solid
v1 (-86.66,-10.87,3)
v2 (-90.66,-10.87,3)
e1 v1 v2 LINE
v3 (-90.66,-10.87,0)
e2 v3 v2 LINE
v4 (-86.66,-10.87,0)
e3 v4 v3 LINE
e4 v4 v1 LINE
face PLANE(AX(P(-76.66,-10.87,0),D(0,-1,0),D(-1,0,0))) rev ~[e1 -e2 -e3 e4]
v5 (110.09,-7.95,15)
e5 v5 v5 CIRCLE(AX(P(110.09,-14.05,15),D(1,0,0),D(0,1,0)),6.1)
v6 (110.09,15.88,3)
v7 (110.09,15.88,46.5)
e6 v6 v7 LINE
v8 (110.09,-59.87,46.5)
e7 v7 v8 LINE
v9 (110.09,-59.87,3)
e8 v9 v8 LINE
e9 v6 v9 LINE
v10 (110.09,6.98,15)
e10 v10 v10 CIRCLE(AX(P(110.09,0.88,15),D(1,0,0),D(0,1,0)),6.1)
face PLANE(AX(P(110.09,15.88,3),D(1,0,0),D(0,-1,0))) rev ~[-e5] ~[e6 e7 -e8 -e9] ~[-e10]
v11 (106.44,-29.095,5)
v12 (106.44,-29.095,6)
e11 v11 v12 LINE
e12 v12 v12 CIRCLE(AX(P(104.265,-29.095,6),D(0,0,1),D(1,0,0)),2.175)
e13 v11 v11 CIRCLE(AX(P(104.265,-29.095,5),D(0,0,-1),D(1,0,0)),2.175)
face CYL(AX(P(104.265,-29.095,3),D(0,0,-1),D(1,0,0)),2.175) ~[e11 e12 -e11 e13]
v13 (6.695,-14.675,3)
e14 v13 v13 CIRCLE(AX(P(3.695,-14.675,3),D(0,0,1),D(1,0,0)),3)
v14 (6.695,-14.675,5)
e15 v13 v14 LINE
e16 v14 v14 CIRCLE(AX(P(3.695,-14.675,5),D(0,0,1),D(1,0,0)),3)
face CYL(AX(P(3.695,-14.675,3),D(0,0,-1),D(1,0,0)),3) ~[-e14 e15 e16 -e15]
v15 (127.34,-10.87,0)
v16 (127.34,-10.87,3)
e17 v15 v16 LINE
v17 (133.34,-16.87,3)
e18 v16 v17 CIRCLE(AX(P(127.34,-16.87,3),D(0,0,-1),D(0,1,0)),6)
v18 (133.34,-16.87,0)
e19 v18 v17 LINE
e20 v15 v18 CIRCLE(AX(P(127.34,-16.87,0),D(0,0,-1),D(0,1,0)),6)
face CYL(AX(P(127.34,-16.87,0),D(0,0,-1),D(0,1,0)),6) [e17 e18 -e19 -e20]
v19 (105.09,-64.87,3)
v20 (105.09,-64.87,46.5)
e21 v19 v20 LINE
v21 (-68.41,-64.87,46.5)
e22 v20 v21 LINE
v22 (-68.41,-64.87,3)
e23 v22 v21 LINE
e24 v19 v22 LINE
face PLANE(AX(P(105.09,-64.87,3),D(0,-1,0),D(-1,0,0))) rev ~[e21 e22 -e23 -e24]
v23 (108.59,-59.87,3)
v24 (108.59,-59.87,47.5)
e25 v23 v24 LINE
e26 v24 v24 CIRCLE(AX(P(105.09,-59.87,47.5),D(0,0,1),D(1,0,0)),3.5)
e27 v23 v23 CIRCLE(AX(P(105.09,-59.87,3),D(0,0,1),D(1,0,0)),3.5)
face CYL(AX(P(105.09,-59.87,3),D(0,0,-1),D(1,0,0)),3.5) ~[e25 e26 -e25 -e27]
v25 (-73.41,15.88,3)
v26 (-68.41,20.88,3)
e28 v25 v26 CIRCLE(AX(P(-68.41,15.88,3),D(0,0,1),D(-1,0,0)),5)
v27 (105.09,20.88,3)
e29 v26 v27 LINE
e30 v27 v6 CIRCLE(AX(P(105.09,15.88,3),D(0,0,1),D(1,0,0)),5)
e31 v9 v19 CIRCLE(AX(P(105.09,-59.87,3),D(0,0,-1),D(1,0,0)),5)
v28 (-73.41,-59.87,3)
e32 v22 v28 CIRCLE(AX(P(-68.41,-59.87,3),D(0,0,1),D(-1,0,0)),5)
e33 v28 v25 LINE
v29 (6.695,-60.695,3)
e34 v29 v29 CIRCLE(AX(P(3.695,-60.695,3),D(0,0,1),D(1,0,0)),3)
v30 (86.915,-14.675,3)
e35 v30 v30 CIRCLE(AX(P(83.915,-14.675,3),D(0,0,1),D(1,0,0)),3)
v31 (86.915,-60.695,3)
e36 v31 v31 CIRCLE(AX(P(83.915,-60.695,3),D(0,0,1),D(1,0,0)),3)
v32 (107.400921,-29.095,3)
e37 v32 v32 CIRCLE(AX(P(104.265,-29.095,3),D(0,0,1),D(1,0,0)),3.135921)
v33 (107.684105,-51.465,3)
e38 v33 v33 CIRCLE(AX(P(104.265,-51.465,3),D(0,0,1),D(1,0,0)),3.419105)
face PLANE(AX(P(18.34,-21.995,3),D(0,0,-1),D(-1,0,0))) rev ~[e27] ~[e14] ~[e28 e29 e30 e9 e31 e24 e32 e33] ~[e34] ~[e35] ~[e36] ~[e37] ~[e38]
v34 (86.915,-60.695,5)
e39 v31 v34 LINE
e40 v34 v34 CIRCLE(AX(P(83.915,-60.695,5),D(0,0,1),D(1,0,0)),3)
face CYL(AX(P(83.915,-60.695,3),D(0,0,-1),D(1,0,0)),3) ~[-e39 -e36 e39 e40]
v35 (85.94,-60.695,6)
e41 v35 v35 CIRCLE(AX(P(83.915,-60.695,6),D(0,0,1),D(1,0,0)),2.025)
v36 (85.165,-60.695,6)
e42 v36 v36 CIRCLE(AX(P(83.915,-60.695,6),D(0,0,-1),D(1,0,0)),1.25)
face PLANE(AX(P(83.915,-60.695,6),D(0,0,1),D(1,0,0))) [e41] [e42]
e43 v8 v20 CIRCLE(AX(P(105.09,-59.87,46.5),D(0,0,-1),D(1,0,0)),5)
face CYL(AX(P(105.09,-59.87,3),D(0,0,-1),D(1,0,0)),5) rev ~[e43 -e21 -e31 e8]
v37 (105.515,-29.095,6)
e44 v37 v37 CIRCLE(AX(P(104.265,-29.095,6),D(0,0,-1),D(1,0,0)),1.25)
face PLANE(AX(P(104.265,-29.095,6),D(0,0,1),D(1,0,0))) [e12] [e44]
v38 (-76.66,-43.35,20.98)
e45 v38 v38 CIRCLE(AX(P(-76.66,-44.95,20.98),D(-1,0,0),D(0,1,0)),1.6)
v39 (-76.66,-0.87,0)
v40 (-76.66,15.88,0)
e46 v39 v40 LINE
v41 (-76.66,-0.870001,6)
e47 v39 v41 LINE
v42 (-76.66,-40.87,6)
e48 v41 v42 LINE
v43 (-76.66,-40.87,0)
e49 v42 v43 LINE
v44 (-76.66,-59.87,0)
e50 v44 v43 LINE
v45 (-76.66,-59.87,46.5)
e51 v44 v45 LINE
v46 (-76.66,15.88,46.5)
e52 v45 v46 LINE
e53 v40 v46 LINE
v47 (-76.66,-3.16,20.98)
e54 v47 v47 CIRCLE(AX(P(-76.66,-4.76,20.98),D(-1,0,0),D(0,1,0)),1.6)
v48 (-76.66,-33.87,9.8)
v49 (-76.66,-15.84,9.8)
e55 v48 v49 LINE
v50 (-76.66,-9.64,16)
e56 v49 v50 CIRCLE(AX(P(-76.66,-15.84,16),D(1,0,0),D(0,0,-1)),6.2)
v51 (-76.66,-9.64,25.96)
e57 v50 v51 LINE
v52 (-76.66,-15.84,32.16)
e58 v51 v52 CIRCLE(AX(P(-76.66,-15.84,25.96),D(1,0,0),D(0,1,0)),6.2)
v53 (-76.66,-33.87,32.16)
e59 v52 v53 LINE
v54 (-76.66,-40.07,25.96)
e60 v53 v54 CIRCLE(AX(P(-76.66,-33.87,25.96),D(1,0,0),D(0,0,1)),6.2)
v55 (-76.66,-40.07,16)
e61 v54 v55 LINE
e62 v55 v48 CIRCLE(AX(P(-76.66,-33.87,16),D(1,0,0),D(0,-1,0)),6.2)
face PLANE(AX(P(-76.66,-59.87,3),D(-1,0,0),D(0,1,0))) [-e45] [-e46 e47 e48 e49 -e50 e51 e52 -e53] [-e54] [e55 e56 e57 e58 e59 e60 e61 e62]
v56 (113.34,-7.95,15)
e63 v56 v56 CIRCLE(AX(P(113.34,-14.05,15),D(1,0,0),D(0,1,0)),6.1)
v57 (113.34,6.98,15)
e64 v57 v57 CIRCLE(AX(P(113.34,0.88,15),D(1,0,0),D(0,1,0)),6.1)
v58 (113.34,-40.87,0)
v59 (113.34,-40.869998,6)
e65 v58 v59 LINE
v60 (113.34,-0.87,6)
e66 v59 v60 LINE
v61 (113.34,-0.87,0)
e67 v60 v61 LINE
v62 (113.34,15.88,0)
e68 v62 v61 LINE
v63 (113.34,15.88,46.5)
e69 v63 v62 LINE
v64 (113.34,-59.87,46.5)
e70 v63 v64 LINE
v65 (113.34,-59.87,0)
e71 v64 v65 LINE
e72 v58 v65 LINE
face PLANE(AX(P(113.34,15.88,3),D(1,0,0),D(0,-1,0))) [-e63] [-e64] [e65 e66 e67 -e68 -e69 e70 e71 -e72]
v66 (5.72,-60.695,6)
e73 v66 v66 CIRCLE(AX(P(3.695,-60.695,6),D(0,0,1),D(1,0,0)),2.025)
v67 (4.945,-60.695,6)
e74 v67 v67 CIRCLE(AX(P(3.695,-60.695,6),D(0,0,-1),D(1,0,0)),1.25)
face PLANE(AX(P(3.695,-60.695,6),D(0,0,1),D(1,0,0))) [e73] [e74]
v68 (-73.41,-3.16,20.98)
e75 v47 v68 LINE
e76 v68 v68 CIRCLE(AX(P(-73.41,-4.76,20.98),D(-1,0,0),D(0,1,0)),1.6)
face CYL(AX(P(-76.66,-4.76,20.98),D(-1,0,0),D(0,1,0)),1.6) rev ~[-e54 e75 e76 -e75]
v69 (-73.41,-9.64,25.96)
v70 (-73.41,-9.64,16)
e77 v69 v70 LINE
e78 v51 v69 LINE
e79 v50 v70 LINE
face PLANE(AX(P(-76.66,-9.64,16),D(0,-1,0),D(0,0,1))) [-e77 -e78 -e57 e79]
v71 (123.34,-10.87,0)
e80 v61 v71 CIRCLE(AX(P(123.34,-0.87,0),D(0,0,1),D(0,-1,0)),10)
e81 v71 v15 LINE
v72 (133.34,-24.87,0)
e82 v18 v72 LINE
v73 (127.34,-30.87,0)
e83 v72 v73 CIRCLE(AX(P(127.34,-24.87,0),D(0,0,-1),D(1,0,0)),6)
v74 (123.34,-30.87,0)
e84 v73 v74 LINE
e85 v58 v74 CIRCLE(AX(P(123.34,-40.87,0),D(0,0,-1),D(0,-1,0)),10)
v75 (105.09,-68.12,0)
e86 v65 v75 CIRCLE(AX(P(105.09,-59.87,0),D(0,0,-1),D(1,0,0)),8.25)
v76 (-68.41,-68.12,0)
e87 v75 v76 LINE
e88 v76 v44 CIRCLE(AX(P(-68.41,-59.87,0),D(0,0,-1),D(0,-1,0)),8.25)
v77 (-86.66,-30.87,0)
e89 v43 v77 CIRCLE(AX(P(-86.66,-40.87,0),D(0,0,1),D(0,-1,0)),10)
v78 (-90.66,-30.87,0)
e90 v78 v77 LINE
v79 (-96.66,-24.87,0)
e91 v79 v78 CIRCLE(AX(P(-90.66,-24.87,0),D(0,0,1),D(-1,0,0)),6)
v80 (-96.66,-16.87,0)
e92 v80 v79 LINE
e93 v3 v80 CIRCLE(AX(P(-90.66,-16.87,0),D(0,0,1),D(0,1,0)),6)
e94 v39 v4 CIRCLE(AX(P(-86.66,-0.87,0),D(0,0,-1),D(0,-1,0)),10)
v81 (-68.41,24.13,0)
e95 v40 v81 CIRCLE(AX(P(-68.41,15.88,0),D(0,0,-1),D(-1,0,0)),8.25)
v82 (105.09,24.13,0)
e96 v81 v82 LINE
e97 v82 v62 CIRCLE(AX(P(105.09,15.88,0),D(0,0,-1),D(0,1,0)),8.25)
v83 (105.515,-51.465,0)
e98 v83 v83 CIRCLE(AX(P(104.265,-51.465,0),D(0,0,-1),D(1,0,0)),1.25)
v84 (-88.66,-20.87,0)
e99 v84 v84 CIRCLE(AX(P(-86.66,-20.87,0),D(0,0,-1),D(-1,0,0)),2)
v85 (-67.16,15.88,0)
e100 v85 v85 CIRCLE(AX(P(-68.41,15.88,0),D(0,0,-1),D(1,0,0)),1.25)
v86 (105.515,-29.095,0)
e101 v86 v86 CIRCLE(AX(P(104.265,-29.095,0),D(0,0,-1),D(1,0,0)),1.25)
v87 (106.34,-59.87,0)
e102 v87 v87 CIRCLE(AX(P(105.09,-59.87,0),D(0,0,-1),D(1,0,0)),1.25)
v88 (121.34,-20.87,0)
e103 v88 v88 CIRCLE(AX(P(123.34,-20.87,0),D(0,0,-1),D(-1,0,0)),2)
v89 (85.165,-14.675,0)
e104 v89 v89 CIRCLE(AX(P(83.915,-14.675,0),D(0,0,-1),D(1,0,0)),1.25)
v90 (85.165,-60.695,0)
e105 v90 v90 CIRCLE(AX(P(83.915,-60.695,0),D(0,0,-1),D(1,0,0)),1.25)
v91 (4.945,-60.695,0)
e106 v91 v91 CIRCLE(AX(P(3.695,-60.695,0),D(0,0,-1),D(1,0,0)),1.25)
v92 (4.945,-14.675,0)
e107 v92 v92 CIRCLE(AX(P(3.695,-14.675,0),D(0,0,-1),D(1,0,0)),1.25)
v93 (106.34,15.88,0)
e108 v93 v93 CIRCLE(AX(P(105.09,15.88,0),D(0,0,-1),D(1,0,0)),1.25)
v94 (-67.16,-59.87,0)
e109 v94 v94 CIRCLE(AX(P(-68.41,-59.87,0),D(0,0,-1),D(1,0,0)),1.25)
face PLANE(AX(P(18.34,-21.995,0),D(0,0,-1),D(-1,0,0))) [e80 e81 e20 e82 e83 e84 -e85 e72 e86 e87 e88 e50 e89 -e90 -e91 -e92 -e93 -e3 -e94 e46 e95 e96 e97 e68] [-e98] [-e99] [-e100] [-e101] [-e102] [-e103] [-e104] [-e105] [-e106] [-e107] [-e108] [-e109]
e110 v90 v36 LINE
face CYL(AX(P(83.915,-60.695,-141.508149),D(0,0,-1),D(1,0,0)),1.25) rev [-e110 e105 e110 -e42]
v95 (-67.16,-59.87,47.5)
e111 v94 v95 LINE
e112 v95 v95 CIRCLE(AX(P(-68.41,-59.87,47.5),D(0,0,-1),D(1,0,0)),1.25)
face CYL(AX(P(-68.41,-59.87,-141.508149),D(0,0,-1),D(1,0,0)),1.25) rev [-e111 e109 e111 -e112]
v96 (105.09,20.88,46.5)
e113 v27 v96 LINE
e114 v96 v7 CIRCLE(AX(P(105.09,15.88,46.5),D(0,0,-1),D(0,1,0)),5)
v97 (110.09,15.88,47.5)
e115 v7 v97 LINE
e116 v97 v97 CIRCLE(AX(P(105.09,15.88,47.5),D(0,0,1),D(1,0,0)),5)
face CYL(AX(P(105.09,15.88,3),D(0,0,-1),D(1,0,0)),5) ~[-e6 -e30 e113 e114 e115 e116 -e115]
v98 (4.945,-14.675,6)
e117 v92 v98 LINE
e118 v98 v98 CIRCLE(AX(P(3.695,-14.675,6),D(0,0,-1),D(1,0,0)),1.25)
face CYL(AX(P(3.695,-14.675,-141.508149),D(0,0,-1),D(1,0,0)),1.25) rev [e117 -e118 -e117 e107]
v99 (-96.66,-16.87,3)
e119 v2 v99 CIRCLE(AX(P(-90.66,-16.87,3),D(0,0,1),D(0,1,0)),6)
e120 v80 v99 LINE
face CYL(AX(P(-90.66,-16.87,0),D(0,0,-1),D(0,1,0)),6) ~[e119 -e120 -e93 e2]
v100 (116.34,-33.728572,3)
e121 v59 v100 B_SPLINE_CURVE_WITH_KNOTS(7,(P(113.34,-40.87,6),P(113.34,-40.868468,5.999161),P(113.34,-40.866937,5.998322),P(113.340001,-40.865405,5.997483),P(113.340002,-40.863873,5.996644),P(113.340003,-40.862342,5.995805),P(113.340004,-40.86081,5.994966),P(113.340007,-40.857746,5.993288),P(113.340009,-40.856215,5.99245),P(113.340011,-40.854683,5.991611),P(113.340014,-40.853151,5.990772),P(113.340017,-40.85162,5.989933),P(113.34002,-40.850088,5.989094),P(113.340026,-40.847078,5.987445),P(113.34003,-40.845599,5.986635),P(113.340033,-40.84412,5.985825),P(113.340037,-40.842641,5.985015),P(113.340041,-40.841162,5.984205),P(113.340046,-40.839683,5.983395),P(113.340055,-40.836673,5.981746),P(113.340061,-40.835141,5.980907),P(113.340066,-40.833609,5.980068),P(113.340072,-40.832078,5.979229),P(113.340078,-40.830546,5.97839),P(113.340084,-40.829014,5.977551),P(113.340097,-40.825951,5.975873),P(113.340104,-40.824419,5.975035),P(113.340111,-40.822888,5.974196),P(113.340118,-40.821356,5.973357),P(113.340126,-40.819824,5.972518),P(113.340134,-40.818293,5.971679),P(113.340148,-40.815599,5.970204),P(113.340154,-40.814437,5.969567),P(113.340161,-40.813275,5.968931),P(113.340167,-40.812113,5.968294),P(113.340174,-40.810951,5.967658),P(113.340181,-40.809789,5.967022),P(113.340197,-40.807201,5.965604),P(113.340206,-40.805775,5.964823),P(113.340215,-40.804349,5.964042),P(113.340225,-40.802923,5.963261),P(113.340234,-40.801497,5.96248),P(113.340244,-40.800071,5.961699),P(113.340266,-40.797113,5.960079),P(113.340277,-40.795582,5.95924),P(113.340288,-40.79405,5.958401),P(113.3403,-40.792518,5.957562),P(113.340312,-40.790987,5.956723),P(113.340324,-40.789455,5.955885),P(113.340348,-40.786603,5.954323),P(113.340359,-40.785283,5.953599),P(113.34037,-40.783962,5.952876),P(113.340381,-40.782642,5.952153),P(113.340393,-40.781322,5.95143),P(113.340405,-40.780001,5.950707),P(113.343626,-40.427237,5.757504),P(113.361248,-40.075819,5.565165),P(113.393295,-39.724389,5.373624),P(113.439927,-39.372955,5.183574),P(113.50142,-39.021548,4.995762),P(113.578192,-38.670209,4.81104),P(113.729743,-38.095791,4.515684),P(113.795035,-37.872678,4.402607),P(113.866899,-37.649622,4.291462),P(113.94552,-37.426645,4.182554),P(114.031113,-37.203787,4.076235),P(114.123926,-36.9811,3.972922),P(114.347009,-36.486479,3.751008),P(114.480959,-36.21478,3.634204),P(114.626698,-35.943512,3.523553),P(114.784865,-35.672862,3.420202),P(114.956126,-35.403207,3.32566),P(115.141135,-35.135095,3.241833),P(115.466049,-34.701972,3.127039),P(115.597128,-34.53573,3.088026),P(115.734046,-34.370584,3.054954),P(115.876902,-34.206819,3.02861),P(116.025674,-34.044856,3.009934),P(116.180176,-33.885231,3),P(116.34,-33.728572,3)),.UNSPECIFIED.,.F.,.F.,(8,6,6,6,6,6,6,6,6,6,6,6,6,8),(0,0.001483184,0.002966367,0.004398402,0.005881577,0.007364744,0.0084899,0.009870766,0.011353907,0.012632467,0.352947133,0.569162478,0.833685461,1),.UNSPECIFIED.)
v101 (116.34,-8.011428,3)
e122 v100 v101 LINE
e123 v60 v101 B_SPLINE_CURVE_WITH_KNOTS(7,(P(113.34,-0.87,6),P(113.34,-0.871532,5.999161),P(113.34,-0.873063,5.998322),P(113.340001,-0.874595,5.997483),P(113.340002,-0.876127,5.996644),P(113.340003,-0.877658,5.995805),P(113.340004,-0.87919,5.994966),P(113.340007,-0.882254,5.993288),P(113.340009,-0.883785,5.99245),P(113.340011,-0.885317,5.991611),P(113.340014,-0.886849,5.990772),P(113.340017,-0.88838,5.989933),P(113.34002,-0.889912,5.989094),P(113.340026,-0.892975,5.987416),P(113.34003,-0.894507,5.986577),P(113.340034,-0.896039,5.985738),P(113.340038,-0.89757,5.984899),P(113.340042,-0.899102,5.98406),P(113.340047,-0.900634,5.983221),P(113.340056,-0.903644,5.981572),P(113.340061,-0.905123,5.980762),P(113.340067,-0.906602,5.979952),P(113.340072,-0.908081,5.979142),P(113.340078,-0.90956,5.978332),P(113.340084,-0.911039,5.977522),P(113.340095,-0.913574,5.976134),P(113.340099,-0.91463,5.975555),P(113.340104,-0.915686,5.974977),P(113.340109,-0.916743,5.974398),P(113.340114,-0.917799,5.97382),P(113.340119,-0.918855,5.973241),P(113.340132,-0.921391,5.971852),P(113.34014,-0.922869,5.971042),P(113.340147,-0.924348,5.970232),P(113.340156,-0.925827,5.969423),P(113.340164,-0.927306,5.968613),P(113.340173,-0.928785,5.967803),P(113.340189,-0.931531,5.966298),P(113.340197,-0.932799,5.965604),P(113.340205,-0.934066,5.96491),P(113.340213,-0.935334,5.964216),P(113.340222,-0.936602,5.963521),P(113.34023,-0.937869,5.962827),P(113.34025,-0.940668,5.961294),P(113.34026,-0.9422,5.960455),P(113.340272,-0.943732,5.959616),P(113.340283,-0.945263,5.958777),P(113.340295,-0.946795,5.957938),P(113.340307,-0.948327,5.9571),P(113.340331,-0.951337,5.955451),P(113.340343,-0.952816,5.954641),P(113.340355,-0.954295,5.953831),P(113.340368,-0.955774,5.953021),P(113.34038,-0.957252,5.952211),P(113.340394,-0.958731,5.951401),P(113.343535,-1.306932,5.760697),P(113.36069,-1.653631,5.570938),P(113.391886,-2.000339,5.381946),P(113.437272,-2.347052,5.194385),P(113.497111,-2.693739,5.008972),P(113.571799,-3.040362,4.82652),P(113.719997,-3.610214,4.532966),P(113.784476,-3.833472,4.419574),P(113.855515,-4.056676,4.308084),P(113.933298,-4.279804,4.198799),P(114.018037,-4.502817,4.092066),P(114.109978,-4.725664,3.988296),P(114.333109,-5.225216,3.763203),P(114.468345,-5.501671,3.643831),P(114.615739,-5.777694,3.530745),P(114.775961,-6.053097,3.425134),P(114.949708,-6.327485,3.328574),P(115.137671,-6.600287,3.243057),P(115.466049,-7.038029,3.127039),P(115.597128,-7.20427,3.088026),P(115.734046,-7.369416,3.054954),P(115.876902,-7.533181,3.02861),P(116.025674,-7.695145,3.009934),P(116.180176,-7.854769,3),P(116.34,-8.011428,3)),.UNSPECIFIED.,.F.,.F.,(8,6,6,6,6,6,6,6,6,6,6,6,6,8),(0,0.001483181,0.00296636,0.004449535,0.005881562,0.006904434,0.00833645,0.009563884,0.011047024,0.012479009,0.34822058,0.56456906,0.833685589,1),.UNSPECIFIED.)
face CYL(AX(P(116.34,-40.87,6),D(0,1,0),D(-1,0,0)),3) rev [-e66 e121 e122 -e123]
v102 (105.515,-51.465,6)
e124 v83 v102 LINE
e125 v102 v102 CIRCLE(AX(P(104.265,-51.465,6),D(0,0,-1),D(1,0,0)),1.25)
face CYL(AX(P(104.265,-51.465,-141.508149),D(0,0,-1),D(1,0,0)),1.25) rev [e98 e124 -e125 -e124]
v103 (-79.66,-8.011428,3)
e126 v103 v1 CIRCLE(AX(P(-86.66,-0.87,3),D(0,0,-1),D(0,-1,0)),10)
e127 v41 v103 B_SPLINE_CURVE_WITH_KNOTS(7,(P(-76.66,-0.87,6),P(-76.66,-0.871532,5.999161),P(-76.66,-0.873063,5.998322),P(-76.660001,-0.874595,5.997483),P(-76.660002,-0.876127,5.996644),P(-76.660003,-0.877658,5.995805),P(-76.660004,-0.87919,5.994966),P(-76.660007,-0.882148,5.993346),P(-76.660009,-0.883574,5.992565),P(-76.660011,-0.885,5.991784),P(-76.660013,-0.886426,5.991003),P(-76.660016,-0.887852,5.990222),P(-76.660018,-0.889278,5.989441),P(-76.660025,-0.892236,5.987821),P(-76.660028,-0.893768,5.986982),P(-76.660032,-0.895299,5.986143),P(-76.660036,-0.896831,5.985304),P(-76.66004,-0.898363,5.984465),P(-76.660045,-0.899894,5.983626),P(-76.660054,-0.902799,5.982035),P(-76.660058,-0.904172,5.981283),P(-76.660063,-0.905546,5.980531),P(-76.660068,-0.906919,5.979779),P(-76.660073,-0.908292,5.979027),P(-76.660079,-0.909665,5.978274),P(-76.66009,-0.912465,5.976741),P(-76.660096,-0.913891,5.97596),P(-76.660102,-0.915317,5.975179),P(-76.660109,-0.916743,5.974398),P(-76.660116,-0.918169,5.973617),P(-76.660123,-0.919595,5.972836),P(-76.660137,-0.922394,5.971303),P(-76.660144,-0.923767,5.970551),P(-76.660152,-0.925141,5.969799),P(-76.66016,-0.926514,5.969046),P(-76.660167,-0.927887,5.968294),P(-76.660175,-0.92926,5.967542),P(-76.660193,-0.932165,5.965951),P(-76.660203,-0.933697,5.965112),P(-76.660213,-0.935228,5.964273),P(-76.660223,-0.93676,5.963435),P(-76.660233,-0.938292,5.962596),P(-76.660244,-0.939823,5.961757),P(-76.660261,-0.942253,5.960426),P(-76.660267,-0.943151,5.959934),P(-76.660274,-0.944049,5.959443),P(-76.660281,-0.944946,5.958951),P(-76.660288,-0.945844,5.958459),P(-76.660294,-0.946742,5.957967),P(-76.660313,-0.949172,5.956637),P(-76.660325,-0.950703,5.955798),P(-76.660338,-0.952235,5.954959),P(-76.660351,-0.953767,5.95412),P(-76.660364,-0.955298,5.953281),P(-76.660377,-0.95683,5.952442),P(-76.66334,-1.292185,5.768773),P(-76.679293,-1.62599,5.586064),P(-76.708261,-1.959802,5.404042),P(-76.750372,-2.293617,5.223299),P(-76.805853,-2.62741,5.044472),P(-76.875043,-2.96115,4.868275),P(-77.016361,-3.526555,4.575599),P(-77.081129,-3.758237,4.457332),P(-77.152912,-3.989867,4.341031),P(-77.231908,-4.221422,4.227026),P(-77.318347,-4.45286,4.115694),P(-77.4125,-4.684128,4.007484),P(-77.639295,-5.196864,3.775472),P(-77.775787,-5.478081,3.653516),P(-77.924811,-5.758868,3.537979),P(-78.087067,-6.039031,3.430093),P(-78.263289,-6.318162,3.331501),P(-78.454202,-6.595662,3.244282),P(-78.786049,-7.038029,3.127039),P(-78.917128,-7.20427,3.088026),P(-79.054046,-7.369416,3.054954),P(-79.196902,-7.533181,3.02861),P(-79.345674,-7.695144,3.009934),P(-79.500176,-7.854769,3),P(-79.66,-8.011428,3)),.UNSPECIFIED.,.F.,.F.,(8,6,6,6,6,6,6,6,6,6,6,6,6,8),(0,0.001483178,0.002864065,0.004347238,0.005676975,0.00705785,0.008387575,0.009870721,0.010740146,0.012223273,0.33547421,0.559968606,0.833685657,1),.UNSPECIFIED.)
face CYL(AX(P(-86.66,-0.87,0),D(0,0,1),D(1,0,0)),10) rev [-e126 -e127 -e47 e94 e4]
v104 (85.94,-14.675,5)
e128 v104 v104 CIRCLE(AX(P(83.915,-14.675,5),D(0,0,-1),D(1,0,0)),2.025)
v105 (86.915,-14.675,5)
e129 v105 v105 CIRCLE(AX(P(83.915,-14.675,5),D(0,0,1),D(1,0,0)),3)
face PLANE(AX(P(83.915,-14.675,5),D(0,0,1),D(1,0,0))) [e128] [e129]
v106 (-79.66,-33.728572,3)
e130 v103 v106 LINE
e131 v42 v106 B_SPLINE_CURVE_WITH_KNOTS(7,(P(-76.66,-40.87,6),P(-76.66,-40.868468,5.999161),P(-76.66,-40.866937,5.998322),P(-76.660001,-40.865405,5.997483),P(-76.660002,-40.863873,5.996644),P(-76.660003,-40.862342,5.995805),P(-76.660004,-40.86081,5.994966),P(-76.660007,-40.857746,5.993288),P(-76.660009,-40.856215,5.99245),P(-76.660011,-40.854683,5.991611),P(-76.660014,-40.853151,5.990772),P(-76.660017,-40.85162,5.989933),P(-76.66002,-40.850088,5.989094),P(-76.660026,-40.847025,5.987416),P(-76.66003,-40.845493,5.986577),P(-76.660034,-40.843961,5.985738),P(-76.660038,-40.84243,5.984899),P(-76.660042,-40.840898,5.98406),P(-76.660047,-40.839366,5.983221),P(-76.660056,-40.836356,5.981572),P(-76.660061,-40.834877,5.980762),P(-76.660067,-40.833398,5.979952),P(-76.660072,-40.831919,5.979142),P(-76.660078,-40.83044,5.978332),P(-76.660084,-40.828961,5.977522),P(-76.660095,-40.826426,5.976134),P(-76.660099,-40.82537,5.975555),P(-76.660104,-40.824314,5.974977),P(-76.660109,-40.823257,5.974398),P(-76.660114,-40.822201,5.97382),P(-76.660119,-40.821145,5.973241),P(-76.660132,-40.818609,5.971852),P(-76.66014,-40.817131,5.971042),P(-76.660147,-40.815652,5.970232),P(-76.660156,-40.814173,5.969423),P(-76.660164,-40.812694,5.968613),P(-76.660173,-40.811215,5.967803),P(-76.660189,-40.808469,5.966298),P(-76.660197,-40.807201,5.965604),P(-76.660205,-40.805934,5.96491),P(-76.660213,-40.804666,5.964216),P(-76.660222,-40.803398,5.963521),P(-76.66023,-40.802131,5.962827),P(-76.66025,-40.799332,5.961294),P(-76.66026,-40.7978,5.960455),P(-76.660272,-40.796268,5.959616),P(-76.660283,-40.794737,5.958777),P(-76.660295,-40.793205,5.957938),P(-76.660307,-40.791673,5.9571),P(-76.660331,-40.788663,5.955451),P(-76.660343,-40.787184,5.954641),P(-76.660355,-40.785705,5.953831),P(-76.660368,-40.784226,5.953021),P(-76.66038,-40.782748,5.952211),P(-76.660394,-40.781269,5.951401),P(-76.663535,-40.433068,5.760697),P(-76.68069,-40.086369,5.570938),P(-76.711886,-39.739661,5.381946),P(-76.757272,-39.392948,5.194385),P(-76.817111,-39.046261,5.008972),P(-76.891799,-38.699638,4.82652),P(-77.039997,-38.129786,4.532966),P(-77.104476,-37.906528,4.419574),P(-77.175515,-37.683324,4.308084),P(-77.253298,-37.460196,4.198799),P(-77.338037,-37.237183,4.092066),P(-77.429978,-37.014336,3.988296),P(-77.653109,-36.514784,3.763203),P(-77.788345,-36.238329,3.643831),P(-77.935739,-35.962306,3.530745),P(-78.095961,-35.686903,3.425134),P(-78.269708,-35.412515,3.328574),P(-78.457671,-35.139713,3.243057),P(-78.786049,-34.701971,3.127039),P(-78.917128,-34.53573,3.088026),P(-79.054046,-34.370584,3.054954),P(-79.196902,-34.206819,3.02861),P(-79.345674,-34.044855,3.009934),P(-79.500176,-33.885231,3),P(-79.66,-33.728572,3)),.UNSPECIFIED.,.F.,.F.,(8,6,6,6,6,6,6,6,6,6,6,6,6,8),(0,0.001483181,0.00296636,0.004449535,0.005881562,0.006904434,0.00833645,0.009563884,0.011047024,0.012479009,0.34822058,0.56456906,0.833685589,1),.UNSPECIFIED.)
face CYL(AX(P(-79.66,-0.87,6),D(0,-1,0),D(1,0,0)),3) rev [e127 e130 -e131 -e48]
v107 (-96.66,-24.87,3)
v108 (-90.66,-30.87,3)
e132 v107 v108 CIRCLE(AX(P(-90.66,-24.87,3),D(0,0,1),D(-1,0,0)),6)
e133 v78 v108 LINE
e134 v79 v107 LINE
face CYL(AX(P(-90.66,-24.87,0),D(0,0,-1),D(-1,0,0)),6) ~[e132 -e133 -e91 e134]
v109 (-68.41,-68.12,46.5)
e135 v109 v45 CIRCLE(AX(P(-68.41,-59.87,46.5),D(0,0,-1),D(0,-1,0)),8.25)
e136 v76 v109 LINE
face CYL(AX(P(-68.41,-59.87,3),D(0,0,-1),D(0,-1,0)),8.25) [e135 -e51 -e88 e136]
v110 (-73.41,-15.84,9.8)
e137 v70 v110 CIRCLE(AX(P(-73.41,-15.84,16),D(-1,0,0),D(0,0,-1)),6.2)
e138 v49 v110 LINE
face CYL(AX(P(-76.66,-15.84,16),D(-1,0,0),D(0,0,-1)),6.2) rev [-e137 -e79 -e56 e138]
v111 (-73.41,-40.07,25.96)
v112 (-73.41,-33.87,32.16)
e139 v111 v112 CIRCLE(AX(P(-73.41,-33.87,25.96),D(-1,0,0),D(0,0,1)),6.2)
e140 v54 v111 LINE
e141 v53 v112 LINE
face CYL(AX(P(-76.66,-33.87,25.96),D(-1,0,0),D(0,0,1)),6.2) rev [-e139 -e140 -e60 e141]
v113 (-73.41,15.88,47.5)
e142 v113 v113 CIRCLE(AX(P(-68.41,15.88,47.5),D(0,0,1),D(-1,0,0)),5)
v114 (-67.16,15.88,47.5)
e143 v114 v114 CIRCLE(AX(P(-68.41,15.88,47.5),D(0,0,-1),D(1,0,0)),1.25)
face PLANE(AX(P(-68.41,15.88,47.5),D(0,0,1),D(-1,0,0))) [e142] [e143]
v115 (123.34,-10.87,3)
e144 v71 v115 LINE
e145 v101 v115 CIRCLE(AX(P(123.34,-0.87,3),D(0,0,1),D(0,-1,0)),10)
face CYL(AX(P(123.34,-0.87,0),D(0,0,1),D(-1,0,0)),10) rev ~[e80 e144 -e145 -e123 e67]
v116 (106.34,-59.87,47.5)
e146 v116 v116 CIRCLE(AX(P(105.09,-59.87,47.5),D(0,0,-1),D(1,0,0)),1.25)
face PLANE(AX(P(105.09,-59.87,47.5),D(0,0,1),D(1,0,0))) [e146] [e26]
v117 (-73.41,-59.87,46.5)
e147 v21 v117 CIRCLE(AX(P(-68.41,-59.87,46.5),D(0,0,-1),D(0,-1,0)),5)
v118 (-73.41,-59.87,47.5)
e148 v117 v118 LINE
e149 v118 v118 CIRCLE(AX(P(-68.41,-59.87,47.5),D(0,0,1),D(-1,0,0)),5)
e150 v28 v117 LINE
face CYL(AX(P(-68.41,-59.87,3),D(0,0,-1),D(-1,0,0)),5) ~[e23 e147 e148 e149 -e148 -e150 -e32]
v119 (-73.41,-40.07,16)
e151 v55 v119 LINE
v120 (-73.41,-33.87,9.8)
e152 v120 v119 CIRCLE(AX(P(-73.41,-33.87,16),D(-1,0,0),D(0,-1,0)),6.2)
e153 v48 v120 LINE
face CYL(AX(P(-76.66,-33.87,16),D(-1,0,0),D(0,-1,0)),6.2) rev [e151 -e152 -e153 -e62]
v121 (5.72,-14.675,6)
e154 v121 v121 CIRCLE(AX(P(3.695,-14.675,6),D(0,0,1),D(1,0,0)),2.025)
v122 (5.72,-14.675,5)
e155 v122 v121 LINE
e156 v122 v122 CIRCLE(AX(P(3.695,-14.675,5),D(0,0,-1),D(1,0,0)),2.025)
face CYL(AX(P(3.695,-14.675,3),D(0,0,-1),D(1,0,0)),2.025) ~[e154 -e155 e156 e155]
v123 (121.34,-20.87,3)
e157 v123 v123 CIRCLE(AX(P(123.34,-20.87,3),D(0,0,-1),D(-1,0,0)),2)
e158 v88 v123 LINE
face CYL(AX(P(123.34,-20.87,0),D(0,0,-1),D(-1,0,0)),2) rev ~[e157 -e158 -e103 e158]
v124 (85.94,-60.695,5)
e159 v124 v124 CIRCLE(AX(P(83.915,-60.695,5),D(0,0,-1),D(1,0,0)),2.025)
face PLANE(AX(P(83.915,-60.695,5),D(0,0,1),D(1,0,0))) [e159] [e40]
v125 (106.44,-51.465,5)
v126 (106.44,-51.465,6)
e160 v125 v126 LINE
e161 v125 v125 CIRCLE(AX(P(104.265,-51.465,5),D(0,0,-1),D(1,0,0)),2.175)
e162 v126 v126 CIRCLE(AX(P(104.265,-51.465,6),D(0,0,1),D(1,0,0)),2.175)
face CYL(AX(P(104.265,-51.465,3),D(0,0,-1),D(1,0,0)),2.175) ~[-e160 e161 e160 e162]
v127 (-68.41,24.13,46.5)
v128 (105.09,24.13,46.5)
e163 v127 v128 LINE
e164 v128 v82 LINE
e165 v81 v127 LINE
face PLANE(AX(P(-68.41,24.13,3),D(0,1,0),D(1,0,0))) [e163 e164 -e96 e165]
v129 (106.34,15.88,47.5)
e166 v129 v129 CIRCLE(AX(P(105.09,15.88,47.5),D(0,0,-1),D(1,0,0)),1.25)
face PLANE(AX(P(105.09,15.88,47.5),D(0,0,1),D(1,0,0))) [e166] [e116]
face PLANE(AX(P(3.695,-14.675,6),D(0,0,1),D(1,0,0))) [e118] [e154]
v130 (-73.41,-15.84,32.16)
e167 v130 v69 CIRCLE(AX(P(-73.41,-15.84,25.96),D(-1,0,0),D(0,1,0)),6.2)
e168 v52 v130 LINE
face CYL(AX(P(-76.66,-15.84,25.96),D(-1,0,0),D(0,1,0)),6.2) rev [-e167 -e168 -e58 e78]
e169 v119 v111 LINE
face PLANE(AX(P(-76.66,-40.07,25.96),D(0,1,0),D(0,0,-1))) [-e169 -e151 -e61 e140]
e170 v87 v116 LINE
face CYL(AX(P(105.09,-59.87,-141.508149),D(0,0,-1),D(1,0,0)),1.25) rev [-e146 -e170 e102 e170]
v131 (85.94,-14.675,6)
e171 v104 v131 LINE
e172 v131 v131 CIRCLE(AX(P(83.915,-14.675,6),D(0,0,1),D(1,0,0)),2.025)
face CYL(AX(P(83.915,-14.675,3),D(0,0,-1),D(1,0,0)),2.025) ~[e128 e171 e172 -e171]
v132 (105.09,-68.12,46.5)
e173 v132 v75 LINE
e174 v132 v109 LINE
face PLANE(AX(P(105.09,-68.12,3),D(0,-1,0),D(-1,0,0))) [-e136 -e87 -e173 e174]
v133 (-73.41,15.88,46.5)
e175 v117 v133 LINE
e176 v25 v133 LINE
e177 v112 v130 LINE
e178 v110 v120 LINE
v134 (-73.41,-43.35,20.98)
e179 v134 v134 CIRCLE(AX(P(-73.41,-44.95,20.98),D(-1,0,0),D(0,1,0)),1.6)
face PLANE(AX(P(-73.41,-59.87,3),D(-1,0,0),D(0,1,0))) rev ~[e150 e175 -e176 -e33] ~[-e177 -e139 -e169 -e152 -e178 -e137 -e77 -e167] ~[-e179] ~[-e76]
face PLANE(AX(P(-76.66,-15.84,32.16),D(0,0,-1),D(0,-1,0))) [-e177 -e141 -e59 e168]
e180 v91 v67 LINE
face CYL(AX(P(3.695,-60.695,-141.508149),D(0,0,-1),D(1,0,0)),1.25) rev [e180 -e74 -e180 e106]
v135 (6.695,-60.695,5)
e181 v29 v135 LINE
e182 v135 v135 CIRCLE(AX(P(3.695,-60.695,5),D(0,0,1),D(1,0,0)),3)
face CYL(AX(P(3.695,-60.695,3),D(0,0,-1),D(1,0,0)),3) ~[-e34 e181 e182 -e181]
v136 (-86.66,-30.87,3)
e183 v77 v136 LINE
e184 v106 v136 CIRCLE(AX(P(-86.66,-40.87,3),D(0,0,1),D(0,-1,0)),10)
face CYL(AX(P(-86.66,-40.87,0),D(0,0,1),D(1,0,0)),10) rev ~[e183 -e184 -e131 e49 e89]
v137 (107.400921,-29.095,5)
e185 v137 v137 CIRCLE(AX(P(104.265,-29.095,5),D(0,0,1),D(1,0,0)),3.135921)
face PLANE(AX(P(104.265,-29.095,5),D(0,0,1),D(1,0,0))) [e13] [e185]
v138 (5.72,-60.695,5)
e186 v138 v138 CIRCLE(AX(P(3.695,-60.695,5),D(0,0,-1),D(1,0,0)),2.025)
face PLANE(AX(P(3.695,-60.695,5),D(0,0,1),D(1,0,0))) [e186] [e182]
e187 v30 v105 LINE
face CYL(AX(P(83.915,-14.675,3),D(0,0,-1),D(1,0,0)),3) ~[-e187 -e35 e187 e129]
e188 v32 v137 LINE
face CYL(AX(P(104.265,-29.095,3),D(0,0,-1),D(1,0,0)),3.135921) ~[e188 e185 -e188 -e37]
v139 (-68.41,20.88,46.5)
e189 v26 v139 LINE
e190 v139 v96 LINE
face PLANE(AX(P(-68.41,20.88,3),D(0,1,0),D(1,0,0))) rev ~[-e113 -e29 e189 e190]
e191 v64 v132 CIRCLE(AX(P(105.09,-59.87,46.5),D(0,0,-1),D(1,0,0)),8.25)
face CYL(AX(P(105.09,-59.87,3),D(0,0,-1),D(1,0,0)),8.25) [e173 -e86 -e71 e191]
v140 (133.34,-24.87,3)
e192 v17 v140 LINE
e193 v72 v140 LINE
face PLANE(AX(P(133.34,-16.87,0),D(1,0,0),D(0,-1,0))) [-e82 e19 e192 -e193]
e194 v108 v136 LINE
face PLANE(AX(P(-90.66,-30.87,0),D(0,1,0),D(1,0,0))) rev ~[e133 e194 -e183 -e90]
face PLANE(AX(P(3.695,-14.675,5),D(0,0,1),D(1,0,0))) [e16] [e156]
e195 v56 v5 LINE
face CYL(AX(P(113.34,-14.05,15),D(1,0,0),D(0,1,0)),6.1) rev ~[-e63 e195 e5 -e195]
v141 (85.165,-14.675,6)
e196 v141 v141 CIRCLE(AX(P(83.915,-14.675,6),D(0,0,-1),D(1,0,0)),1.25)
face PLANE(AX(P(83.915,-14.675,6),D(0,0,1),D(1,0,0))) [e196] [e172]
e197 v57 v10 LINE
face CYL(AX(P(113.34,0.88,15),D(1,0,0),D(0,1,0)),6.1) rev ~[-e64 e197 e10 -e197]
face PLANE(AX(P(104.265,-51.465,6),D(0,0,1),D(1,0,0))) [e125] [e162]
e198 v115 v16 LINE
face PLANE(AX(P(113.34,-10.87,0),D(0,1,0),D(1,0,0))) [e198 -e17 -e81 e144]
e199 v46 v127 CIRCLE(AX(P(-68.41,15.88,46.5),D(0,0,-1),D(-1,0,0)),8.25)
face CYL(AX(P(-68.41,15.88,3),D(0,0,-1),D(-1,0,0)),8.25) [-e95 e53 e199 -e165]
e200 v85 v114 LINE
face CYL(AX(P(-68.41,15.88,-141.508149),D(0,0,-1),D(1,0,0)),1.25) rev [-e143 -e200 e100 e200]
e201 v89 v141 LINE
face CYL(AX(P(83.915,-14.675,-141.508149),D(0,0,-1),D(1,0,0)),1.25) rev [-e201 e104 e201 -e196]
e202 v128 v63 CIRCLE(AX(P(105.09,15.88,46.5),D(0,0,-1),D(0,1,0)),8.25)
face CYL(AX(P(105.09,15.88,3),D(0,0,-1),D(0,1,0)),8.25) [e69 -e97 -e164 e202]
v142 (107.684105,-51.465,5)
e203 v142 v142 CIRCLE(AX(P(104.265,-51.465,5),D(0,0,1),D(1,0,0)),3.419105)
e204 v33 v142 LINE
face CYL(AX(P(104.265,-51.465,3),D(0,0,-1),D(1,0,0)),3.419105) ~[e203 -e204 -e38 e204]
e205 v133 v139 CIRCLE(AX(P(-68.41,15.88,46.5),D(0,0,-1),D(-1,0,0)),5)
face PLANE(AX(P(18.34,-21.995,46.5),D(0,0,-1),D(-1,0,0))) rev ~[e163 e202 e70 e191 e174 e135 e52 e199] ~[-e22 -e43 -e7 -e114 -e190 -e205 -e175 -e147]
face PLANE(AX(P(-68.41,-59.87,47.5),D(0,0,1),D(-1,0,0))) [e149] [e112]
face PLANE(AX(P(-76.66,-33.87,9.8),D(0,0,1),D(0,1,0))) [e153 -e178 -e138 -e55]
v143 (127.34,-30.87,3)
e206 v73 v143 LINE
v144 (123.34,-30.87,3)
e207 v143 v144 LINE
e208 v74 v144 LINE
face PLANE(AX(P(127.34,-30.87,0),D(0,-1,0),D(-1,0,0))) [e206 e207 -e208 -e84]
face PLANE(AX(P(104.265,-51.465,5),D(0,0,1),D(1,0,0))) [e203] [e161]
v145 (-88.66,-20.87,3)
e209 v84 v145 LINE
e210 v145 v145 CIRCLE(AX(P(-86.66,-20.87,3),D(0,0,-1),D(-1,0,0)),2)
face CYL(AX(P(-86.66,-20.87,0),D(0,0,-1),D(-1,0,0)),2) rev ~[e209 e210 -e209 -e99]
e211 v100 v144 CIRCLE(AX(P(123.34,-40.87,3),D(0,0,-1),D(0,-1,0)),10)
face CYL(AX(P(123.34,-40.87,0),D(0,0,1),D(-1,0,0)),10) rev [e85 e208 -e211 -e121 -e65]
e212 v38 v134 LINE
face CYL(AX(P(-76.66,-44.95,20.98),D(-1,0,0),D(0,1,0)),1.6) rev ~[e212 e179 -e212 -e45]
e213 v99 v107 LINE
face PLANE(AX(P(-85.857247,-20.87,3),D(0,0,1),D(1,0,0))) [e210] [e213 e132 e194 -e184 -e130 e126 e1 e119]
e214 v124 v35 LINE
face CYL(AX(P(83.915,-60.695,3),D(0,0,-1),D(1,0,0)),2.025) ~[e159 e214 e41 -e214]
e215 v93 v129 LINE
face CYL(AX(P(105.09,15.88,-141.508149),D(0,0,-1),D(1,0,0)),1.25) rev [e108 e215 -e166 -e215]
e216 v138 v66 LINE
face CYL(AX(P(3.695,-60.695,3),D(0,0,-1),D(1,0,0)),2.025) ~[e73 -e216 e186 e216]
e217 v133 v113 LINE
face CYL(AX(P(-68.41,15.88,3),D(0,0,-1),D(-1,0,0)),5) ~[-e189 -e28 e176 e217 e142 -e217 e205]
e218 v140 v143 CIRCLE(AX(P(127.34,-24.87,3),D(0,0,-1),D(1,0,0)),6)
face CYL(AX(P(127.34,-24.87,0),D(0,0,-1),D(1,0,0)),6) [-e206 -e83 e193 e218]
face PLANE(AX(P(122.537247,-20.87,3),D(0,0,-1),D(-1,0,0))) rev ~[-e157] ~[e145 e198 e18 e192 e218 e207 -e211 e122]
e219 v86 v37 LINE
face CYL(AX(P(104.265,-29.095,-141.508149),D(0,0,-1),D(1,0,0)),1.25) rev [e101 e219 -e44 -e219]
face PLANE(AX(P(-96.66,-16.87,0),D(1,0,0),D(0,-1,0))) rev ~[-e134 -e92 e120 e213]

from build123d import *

# Parameters (mm, degrees)
BOSS_EXTRUDE1_DEPTH            = 3
BOSS_EXTRUDE5_START            = 3
BOSS_EXTRUDE5_DEPTH            = 43.5
BOSS_EXTRUDE6_START            = 3
SKETCH1_10_R                   = 3.5
SKETCH1_10_R_2                 = 5
BOSS_EXTRUDE6_DEPTH            = 44.5
BOSS_EXTRUDE7_START            = 3
SKETCH1_11_R                   = 2.175
SKETCH1_11_R_2                 = 2.025
BOSS_EXTRUDE7_DEPTH            = 3
BOSS_EXTRUDE8_START            = 3
SKETCH1_12_R                   = 3
SKETCH1_12_R_2                 = 3.135921206
SKETCH1_12_R_3                 = 3.419105212
BOSS_EXTRUDE8_DEPTH            = 2
CUT_EXTRUDE7_DEPTH             = 141.50814923
CUT_EXTRUDE7_DEPTH_BACK        = 141.50814923
SKETCH1_13_R                   = 1.25
CUT_EXTRUDE8_REACH             = 209.356
SKETCH3_R                      = 1.6
CUT_EXTRUDE8_DIRECTION_2_DEPTH = 208.356177627
CUT_EXTRUDE9_REACH             = 209.356
SKETCH4_R                      = 6.1
SKETCH5_R                      = 2
BOSS_EXTRUDE9_DEPTH            = 3
FILLET2_R                      = 10
FILLET3_R                      = 3


with BuildPart() as part:
    # Sketch1 → Boss-Extrude1 (new body)
    with BuildSketch(Plane.XY):
        with BuildLine():
            Line((-68.41, 24.13), (105.09, 24.13))
            ThreePointArc((105.09, 24.13), (110.923630945, 21.713630945), (113.34, 15.88))
            Line((113.34, 15.88), (113.34, -59.87))
            ThreePointArc((113.34, -59.87), (110.923630945, -65.703630945), (105.09, -68.12))
            Line((105.09, -68.12), (-68.41, -68.12))
            ThreePointArc((-68.41, -68.12), (-74.243630945, -65.703630945), (-76.66, -59.87))
            Line((-76.66, -59.87), (-76.66, 15.88))
            ThreePointArc((-76.66, 15.88), (-74.243630945, 21.713630945), (-68.41, 24.13))
        make_face()
    extrude(amount=BOSS_EXTRUDE1_DEPTH)

    # Sketch1<9> → Boss-Extrude5 (add)
    with BuildSketch(Plane.XY.offset(BOSS_EXTRUDE5_START)):
        with BuildLine():
            Line((-68.41, 24.13), (105.09, 24.13))
            ThreePointArc((105.09, 24.13), (110.923630945, 21.713630945), (113.34, 15.88))
            Line((113.34, 15.88), (113.34, -59.87))
            ThreePointArc((113.34, -59.87), (110.923630945, -65.703630945), (105.09, -68.12))
            Line((105.09, -68.12), (-68.41, -68.12))
            ThreePointArc((-68.41, -68.12), (-74.243630945, -65.703630945), (-76.66, -59.87))
            Line((-76.66, -59.87), (-76.66, 15.88))
            ThreePointArc((-76.66, 15.88), (-74.243630945, 21.713630945), (-68.41, 24.13))
        make_face()
        with BuildLine():
            Line((-68.41, 20.88), (105.09, 20.88))
            ThreePointArc((105.09, 20.88), (108.625533906, 19.415533906), (110.09, 15.88))
            Line((110.09, 15.88), (110.09, -59.87))
            ThreePointArc((110.09, -59.87), (108.625533906, -63.405533906), (105.09, -64.87))
            Line((105.09, -64.87), (-68.41, -64.87))
            ThreePointArc((-68.41, -64.87), (-71.945533906, -63.405533906), (-73.41, -59.87))
            Line((-73.41, -59.87), (-73.41, 15.88))
            ThreePointArc((-73.41, 15.88), (-71.945533906, 19.415533906), (-68.41, 20.88))
        make_face(mode=Mode.SUBTRACT)
    extrude(amount=BOSS_EXTRUDE5_DEPTH)

    # Sketch1<10> → Boss-Extrude6 (add)
    with BuildSketch(Plane.XY.offset(BOSS_EXTRUDE6_START)):
        with Locations((105.09, -59.87)):
            Circle(SKETCH1_10_R)
        with Locations((105.09, 15.88)):
            Circle(SKETCH1_10_R_2)
        with Locations(Location((-68.41, 15.88, 0), (0, 0, 180))):
            Circle(SKETCH1_10_R_2)
        with Locations(Location((-68.41, -59.87, 0), (0, 0, 180))):
            Circle(SKETCH1_10_R_2)
    extrude(amount=BOSS_EXTRUDE6_DEPTH)

    # Sketch1<11> → Boss-Extrude7 (add)
    with BuildSketch(Plane.XY.offset(BOSS_EXTRUDE7_START)):
        with Locations((104.265, -29.095)):
            Circle(SKETCH1_11_R)
        with Locations((104.265, -51.465)):
            Circle(SKETCH1_11_R)
        with Locations((3.695, -14.675)):
            Circle(SKETCH1_11_R_2)
        with Locations((83.915, -14.675)):
            Circle(SKETCH1_11_R_2)
        with Locations((83.915, -60.695)):
            Circle(SKETCH1_11_R_2)
        with Locations((3.695, -60.695)):
            Circle(SKETCH1_11_R_2)
    extrude(amount=BOSS_EXTRUDE7_DEPTH)

    # Sketch1<12> → Boss-Extrude8 (add)
    with BuildSketch(Plane.XY.offset(BOSS_EXTRUDE8_START)):
        with Locations((3.695, -14.675)):
            Circle(SKETCH1_12_R)
        with Locations((83.915, -14.675)):
            Circle(SKETCH1_12_R)
        with Locations((104.265, -29.095)):
            Circle(SKETCH1_12_R_2)
        with Locations((104.265, -51.465)):
            Circle(SKETCH1_12_R_3)
        with Locations((83.915, -60.695)):
            Circle(SKETCH1_12_R)
        with Locations((3.695, -60.695)):
            Circle(SKETCH1_12_R)
    extrude(amount=BOSS_EXTRUDE8_DEPTH)

    # Sketch1<13> → Cut-Extrude7 (cut, two sides: drawn at the far end of the back side and taken through both)
    with BuildSketch(Plane.XY.offset(-CUT_EXTRUDE7_DEPTH_BACK)):
        with Locations((-68.41, 15.88)):
            Circle(SKETCH1_13_R)
        with Locations((105.09, 15.88)):
            Circle(SKETCH1_13_R)
        with Locations((105.09, -59.87)):
            Circle(SKETCH1_13_R)
        with Locations((-68.41, -59.87)):
            Circle(SKETCH1_13_R)
        with Locations((104.265, -29.095)):
            Circle(SKETCH1_13_R)
        with Locations((104.265, -51.465)):
            Circle(SKETCH1_13_R)
        with Locations((3.695, -14.675)):
            Circle(SKETCH1_13_R)
        with Locations((83.915, -14.675)):
            Circle(SKETCH1_13_R)
        with Locations((83.915, -60.695)):
            Circle(SKETCH1_13_R)
        with Locations((3.695, -60.695)):
            Circle(SKETCH1_13_R)
    extrude(amount=CUT_EXTRUDE7_DEPTH + CUT_EXTRUDE7_DEPTH_BACK, mode=Mode.SUBTRACT)

    # Sketch3 → Cut-Extrude8 (cut, up to next)
    with BuildSketch(Plane.ZY.offset(76.66), mode=Mode.PRIVATE) as cut_extrude8_sk1:
        with Locations(Location((20.98, -44.95, 0), (0, 0, 90))):
            Circle(SKETCH3_R)
    cut_extrude8_tool1 = extrude(cut_extrude8_sk1.sketch, amount=-CUT_EXTRUDE8_REACH, mode=Mode.PRIVATE) & part.part
    # Sketch3 → Cut-Extrude8 (cut, up to next)
    with BuildSketch(Plane.ZY.offset(76.66), mode=Mode.PRIVATE) as cut_extrude8_sk2:
        with Locations(Location((20.98, -4.76, 0), (0, 0, 90))):
            Circle(SKETCH3_R)
    cut_extrude8_tool2 = extrude(cut_extrude8_sk2.sketch, amount=-CUT_EXTRUDE8_REACH, mode=Mode.PRIVATE) & part.part
    # Sketch3 → Cut-Extrude8 (cut, up to next)
    with BuildSketch(Plane.ZY.offset(76.66), mode=Mode.PRIVATE) as cut_extrude8_sk3:
        with BuildLine():
            Line((32.16, -15.84), (32.16, -33.87))
            ThreePointArc((32.16, -33.87), (30.344062043, -38.254062043), (25.96, -40.07))
            Line((25.96, -40.07), (16, -40.07))
            ThreePointArc((16, -40.07), (11.615937957, -38.254062043), (9.8, -33.87))
            Line((9.8, -33.87), (9.8, -15.84))
            ThreePointArc((9.8, -15.84), (11.615937957, -11.455937957), (16, -9.64))
            Line((16, -9.64), (25.96, -9.64))
            ThreePointArc((25.96, -9.64), (30.344062043, -11.455937957), (32.16, -15.84))
        make_face()
    cut_extrude8_tool3 = extrude(cut_extrude8_sk3.sketch, amount=-CUT_EXTRUDE8_REACH, mode=Mode.PRIVATE) & part.part
    add(cut_extrude8_tool1.solids().sort_by_distance((-76.66, -44.95, 20.98))[0], mode=Mode.SUBTRACT)
    add(cut_extrude8_tool2.solids().sort_by_distance((-76.66, -4.76, 20.98))[0], mode=Mode.SUBTRACT)
    add(cut_extrude8_tool3.solids().sort_by_distance((-76.66, -24.855, 20.98))[0], mode=Mode.SUBTRACT)

    # Sketch3 → Cut-Extrude8 direction 2 (cut)
    with BuildSketch(Plane.ZY.offset(76.66)):
        with Locations(Location((20.98, -44.95, 0), (0, 0, 90))):
            Circle(SKETCH3_R)
        with Locations(Location((20.98, -4.76, 0), (0, 0, 90))):
            Circle(SKETCH3_R)
        with BuildLine():
            Line((32.16, -15.84), (32.16, -33.87))
            ThreePointArc((32.16, -33.87), (30.344062043, -38.254062043), (25.96, -40.07))
            Line((25.96, -40.07), (16, -40.07))
            ThreePointArc((16, -40.07), (11.615937957, -38.254062043), (9.8, -33.87))
            Line((9.8, -33.87), (9.8, -15.84))
            ThreePointArc((9.8, -15.84), (11.615937957, -11.455937957), (16, -9.64))
            Line((16, -9.64), (25.96, -9.64))
            ThreePointArc((25.96, -9.64), (30.344062043, -11.455937957), (32.16, -15.84))
        make_face()
    extrude(amount=CUT_EXTRUDE8_DIRECTION_2_DEPTH, mode=Mode.SUBTRACT)

    # Sketch4 → Cut-Extrude9 (cut, up to next)
    with BuildSketch(Plane(origin=(113.34, 0, 0), x_dir=(0, 0, -1), z_dir=(1, 0, 0)), mode=Mode.PRIVATE) as cut_extrude9_sk1:
        with Locations(Location((-15, 0.88, 0), (0, 0, 90))):
            Circle(SKETCH4_R)
    cut_extrude9_tool1 = extrude(cut_extrude9_sk1.sketch, amount=-CUT_EXTRUDE9_REACH, mode=Mode.PRIVATE) & part.part
    # Sketch4 → Cut-Extrude9 (cut, up to next)
    with BuildSketch(Plane(origin=(113.34, 0, 0), x_dir=(0, 0, -1), z_dir=(1, 0, 0)), mode=Mode.PRIVATE) as cut_extrude9_sk2:
        with Locations(Location((-15, -14.05, 0), (0, 0, 90))):
            Circle(SKETCH4_R)
    cut_extrude9_tool2 = extrude(cut_extrude9_sk2.sketch, amount=-CUT_EXTRUDE9_REACH, mode=Mode.PRIVATE) & part.part
    add(cut_extrude9_tool1.solids().sort_by_distance((113.34, 0.88, 15))[0], mode=Mode.SUBTRACT)
    add(cut_extrude9_tool2.solids().sort_by_distance((113.34, -14.05, 15))[0], mode=Mode.SUBTRACT)

    # Sketch5 → Boss-Extrude9 (add)
    # profile 1 of 2: a face of its own
    with BuildSketch(Plane(origin=(0, 0, 0), x_dir=(-1, 0, 0), z_dir=(0, 0, -1))):
        with BuildLine():
            Line((76.66, -10.87), (90.66, -10.87))
            ThreePointArc((90.66, -10.87), (94.902640687, -12.627359313), (96.66, -16.87))
            Line((96.66, -16.87), (96.66, -24.87))
            ThreePointArc((96.66, -24.87), (94.902640687, -29.112640687), (90.66, -30.87))
            Line((90.66, -30.87), (76.66, -30.87))
            Line((76.66, -30.87), (76.66, -10.87))
        make_face()
        with Locations((86.66, -20.87)):
            Circle(SKETCH5_R, mode=Mode.SUBTRACT)
    # profile 2 of 2: a face of its own
    with BuildSketch(Plane(origin=(0, 0, 0), x_dir=(-1, 0, 0), z_dir=(0, 0, -1))):
        with BuildLine():
            Line((-113.34, -10.87), (-127.34, -10.87))
            ThreePointArc((-127.34, -10.87), (-131.582640687, -12.627359313), (-133.34, -16.87))
            Line((-133.34, -16.87), (-133.34, -24.87))
            ThreePointArc((-133.34, -24.87), (-131.582640687, -29.112640687), (-127.34, -30.87))
            Line((-127.34, -30.87), (-113.34, -30.87))
            Line((-113.34, -30.87), (-113.34, -10.87))
        make_face()
        with Locations((-123.34, -20.87)):
            Circle(SKETCH5_R, mode=Mode.SUBTRACT)
    extrude(amount=-BOSS_EXTRUDE9_DEPTH)

    # Fillet2
    fillet2_edges = [part.edges().sort_by_distance(p)[0] for p in [
        (-76.66, -30.87, 1.5),
        (-76.66, -10.87, 1.5),
        (113.34, -10.87, 1.5),
        (113.34, -30.87, 1.5),
    ]]
    fillet(fillet2_edges, radius=FILLET2_R)

    # Fillet3
    fillet3_edges = [part.edges().sort_by_distance(p)[0] for p in [
        (-76.66, -20.87, 3),
        (113.34, -20.87, 3),
    ]]
    fillet(fillet3_edges, radius=FILLET3_R)


solid = part.part
